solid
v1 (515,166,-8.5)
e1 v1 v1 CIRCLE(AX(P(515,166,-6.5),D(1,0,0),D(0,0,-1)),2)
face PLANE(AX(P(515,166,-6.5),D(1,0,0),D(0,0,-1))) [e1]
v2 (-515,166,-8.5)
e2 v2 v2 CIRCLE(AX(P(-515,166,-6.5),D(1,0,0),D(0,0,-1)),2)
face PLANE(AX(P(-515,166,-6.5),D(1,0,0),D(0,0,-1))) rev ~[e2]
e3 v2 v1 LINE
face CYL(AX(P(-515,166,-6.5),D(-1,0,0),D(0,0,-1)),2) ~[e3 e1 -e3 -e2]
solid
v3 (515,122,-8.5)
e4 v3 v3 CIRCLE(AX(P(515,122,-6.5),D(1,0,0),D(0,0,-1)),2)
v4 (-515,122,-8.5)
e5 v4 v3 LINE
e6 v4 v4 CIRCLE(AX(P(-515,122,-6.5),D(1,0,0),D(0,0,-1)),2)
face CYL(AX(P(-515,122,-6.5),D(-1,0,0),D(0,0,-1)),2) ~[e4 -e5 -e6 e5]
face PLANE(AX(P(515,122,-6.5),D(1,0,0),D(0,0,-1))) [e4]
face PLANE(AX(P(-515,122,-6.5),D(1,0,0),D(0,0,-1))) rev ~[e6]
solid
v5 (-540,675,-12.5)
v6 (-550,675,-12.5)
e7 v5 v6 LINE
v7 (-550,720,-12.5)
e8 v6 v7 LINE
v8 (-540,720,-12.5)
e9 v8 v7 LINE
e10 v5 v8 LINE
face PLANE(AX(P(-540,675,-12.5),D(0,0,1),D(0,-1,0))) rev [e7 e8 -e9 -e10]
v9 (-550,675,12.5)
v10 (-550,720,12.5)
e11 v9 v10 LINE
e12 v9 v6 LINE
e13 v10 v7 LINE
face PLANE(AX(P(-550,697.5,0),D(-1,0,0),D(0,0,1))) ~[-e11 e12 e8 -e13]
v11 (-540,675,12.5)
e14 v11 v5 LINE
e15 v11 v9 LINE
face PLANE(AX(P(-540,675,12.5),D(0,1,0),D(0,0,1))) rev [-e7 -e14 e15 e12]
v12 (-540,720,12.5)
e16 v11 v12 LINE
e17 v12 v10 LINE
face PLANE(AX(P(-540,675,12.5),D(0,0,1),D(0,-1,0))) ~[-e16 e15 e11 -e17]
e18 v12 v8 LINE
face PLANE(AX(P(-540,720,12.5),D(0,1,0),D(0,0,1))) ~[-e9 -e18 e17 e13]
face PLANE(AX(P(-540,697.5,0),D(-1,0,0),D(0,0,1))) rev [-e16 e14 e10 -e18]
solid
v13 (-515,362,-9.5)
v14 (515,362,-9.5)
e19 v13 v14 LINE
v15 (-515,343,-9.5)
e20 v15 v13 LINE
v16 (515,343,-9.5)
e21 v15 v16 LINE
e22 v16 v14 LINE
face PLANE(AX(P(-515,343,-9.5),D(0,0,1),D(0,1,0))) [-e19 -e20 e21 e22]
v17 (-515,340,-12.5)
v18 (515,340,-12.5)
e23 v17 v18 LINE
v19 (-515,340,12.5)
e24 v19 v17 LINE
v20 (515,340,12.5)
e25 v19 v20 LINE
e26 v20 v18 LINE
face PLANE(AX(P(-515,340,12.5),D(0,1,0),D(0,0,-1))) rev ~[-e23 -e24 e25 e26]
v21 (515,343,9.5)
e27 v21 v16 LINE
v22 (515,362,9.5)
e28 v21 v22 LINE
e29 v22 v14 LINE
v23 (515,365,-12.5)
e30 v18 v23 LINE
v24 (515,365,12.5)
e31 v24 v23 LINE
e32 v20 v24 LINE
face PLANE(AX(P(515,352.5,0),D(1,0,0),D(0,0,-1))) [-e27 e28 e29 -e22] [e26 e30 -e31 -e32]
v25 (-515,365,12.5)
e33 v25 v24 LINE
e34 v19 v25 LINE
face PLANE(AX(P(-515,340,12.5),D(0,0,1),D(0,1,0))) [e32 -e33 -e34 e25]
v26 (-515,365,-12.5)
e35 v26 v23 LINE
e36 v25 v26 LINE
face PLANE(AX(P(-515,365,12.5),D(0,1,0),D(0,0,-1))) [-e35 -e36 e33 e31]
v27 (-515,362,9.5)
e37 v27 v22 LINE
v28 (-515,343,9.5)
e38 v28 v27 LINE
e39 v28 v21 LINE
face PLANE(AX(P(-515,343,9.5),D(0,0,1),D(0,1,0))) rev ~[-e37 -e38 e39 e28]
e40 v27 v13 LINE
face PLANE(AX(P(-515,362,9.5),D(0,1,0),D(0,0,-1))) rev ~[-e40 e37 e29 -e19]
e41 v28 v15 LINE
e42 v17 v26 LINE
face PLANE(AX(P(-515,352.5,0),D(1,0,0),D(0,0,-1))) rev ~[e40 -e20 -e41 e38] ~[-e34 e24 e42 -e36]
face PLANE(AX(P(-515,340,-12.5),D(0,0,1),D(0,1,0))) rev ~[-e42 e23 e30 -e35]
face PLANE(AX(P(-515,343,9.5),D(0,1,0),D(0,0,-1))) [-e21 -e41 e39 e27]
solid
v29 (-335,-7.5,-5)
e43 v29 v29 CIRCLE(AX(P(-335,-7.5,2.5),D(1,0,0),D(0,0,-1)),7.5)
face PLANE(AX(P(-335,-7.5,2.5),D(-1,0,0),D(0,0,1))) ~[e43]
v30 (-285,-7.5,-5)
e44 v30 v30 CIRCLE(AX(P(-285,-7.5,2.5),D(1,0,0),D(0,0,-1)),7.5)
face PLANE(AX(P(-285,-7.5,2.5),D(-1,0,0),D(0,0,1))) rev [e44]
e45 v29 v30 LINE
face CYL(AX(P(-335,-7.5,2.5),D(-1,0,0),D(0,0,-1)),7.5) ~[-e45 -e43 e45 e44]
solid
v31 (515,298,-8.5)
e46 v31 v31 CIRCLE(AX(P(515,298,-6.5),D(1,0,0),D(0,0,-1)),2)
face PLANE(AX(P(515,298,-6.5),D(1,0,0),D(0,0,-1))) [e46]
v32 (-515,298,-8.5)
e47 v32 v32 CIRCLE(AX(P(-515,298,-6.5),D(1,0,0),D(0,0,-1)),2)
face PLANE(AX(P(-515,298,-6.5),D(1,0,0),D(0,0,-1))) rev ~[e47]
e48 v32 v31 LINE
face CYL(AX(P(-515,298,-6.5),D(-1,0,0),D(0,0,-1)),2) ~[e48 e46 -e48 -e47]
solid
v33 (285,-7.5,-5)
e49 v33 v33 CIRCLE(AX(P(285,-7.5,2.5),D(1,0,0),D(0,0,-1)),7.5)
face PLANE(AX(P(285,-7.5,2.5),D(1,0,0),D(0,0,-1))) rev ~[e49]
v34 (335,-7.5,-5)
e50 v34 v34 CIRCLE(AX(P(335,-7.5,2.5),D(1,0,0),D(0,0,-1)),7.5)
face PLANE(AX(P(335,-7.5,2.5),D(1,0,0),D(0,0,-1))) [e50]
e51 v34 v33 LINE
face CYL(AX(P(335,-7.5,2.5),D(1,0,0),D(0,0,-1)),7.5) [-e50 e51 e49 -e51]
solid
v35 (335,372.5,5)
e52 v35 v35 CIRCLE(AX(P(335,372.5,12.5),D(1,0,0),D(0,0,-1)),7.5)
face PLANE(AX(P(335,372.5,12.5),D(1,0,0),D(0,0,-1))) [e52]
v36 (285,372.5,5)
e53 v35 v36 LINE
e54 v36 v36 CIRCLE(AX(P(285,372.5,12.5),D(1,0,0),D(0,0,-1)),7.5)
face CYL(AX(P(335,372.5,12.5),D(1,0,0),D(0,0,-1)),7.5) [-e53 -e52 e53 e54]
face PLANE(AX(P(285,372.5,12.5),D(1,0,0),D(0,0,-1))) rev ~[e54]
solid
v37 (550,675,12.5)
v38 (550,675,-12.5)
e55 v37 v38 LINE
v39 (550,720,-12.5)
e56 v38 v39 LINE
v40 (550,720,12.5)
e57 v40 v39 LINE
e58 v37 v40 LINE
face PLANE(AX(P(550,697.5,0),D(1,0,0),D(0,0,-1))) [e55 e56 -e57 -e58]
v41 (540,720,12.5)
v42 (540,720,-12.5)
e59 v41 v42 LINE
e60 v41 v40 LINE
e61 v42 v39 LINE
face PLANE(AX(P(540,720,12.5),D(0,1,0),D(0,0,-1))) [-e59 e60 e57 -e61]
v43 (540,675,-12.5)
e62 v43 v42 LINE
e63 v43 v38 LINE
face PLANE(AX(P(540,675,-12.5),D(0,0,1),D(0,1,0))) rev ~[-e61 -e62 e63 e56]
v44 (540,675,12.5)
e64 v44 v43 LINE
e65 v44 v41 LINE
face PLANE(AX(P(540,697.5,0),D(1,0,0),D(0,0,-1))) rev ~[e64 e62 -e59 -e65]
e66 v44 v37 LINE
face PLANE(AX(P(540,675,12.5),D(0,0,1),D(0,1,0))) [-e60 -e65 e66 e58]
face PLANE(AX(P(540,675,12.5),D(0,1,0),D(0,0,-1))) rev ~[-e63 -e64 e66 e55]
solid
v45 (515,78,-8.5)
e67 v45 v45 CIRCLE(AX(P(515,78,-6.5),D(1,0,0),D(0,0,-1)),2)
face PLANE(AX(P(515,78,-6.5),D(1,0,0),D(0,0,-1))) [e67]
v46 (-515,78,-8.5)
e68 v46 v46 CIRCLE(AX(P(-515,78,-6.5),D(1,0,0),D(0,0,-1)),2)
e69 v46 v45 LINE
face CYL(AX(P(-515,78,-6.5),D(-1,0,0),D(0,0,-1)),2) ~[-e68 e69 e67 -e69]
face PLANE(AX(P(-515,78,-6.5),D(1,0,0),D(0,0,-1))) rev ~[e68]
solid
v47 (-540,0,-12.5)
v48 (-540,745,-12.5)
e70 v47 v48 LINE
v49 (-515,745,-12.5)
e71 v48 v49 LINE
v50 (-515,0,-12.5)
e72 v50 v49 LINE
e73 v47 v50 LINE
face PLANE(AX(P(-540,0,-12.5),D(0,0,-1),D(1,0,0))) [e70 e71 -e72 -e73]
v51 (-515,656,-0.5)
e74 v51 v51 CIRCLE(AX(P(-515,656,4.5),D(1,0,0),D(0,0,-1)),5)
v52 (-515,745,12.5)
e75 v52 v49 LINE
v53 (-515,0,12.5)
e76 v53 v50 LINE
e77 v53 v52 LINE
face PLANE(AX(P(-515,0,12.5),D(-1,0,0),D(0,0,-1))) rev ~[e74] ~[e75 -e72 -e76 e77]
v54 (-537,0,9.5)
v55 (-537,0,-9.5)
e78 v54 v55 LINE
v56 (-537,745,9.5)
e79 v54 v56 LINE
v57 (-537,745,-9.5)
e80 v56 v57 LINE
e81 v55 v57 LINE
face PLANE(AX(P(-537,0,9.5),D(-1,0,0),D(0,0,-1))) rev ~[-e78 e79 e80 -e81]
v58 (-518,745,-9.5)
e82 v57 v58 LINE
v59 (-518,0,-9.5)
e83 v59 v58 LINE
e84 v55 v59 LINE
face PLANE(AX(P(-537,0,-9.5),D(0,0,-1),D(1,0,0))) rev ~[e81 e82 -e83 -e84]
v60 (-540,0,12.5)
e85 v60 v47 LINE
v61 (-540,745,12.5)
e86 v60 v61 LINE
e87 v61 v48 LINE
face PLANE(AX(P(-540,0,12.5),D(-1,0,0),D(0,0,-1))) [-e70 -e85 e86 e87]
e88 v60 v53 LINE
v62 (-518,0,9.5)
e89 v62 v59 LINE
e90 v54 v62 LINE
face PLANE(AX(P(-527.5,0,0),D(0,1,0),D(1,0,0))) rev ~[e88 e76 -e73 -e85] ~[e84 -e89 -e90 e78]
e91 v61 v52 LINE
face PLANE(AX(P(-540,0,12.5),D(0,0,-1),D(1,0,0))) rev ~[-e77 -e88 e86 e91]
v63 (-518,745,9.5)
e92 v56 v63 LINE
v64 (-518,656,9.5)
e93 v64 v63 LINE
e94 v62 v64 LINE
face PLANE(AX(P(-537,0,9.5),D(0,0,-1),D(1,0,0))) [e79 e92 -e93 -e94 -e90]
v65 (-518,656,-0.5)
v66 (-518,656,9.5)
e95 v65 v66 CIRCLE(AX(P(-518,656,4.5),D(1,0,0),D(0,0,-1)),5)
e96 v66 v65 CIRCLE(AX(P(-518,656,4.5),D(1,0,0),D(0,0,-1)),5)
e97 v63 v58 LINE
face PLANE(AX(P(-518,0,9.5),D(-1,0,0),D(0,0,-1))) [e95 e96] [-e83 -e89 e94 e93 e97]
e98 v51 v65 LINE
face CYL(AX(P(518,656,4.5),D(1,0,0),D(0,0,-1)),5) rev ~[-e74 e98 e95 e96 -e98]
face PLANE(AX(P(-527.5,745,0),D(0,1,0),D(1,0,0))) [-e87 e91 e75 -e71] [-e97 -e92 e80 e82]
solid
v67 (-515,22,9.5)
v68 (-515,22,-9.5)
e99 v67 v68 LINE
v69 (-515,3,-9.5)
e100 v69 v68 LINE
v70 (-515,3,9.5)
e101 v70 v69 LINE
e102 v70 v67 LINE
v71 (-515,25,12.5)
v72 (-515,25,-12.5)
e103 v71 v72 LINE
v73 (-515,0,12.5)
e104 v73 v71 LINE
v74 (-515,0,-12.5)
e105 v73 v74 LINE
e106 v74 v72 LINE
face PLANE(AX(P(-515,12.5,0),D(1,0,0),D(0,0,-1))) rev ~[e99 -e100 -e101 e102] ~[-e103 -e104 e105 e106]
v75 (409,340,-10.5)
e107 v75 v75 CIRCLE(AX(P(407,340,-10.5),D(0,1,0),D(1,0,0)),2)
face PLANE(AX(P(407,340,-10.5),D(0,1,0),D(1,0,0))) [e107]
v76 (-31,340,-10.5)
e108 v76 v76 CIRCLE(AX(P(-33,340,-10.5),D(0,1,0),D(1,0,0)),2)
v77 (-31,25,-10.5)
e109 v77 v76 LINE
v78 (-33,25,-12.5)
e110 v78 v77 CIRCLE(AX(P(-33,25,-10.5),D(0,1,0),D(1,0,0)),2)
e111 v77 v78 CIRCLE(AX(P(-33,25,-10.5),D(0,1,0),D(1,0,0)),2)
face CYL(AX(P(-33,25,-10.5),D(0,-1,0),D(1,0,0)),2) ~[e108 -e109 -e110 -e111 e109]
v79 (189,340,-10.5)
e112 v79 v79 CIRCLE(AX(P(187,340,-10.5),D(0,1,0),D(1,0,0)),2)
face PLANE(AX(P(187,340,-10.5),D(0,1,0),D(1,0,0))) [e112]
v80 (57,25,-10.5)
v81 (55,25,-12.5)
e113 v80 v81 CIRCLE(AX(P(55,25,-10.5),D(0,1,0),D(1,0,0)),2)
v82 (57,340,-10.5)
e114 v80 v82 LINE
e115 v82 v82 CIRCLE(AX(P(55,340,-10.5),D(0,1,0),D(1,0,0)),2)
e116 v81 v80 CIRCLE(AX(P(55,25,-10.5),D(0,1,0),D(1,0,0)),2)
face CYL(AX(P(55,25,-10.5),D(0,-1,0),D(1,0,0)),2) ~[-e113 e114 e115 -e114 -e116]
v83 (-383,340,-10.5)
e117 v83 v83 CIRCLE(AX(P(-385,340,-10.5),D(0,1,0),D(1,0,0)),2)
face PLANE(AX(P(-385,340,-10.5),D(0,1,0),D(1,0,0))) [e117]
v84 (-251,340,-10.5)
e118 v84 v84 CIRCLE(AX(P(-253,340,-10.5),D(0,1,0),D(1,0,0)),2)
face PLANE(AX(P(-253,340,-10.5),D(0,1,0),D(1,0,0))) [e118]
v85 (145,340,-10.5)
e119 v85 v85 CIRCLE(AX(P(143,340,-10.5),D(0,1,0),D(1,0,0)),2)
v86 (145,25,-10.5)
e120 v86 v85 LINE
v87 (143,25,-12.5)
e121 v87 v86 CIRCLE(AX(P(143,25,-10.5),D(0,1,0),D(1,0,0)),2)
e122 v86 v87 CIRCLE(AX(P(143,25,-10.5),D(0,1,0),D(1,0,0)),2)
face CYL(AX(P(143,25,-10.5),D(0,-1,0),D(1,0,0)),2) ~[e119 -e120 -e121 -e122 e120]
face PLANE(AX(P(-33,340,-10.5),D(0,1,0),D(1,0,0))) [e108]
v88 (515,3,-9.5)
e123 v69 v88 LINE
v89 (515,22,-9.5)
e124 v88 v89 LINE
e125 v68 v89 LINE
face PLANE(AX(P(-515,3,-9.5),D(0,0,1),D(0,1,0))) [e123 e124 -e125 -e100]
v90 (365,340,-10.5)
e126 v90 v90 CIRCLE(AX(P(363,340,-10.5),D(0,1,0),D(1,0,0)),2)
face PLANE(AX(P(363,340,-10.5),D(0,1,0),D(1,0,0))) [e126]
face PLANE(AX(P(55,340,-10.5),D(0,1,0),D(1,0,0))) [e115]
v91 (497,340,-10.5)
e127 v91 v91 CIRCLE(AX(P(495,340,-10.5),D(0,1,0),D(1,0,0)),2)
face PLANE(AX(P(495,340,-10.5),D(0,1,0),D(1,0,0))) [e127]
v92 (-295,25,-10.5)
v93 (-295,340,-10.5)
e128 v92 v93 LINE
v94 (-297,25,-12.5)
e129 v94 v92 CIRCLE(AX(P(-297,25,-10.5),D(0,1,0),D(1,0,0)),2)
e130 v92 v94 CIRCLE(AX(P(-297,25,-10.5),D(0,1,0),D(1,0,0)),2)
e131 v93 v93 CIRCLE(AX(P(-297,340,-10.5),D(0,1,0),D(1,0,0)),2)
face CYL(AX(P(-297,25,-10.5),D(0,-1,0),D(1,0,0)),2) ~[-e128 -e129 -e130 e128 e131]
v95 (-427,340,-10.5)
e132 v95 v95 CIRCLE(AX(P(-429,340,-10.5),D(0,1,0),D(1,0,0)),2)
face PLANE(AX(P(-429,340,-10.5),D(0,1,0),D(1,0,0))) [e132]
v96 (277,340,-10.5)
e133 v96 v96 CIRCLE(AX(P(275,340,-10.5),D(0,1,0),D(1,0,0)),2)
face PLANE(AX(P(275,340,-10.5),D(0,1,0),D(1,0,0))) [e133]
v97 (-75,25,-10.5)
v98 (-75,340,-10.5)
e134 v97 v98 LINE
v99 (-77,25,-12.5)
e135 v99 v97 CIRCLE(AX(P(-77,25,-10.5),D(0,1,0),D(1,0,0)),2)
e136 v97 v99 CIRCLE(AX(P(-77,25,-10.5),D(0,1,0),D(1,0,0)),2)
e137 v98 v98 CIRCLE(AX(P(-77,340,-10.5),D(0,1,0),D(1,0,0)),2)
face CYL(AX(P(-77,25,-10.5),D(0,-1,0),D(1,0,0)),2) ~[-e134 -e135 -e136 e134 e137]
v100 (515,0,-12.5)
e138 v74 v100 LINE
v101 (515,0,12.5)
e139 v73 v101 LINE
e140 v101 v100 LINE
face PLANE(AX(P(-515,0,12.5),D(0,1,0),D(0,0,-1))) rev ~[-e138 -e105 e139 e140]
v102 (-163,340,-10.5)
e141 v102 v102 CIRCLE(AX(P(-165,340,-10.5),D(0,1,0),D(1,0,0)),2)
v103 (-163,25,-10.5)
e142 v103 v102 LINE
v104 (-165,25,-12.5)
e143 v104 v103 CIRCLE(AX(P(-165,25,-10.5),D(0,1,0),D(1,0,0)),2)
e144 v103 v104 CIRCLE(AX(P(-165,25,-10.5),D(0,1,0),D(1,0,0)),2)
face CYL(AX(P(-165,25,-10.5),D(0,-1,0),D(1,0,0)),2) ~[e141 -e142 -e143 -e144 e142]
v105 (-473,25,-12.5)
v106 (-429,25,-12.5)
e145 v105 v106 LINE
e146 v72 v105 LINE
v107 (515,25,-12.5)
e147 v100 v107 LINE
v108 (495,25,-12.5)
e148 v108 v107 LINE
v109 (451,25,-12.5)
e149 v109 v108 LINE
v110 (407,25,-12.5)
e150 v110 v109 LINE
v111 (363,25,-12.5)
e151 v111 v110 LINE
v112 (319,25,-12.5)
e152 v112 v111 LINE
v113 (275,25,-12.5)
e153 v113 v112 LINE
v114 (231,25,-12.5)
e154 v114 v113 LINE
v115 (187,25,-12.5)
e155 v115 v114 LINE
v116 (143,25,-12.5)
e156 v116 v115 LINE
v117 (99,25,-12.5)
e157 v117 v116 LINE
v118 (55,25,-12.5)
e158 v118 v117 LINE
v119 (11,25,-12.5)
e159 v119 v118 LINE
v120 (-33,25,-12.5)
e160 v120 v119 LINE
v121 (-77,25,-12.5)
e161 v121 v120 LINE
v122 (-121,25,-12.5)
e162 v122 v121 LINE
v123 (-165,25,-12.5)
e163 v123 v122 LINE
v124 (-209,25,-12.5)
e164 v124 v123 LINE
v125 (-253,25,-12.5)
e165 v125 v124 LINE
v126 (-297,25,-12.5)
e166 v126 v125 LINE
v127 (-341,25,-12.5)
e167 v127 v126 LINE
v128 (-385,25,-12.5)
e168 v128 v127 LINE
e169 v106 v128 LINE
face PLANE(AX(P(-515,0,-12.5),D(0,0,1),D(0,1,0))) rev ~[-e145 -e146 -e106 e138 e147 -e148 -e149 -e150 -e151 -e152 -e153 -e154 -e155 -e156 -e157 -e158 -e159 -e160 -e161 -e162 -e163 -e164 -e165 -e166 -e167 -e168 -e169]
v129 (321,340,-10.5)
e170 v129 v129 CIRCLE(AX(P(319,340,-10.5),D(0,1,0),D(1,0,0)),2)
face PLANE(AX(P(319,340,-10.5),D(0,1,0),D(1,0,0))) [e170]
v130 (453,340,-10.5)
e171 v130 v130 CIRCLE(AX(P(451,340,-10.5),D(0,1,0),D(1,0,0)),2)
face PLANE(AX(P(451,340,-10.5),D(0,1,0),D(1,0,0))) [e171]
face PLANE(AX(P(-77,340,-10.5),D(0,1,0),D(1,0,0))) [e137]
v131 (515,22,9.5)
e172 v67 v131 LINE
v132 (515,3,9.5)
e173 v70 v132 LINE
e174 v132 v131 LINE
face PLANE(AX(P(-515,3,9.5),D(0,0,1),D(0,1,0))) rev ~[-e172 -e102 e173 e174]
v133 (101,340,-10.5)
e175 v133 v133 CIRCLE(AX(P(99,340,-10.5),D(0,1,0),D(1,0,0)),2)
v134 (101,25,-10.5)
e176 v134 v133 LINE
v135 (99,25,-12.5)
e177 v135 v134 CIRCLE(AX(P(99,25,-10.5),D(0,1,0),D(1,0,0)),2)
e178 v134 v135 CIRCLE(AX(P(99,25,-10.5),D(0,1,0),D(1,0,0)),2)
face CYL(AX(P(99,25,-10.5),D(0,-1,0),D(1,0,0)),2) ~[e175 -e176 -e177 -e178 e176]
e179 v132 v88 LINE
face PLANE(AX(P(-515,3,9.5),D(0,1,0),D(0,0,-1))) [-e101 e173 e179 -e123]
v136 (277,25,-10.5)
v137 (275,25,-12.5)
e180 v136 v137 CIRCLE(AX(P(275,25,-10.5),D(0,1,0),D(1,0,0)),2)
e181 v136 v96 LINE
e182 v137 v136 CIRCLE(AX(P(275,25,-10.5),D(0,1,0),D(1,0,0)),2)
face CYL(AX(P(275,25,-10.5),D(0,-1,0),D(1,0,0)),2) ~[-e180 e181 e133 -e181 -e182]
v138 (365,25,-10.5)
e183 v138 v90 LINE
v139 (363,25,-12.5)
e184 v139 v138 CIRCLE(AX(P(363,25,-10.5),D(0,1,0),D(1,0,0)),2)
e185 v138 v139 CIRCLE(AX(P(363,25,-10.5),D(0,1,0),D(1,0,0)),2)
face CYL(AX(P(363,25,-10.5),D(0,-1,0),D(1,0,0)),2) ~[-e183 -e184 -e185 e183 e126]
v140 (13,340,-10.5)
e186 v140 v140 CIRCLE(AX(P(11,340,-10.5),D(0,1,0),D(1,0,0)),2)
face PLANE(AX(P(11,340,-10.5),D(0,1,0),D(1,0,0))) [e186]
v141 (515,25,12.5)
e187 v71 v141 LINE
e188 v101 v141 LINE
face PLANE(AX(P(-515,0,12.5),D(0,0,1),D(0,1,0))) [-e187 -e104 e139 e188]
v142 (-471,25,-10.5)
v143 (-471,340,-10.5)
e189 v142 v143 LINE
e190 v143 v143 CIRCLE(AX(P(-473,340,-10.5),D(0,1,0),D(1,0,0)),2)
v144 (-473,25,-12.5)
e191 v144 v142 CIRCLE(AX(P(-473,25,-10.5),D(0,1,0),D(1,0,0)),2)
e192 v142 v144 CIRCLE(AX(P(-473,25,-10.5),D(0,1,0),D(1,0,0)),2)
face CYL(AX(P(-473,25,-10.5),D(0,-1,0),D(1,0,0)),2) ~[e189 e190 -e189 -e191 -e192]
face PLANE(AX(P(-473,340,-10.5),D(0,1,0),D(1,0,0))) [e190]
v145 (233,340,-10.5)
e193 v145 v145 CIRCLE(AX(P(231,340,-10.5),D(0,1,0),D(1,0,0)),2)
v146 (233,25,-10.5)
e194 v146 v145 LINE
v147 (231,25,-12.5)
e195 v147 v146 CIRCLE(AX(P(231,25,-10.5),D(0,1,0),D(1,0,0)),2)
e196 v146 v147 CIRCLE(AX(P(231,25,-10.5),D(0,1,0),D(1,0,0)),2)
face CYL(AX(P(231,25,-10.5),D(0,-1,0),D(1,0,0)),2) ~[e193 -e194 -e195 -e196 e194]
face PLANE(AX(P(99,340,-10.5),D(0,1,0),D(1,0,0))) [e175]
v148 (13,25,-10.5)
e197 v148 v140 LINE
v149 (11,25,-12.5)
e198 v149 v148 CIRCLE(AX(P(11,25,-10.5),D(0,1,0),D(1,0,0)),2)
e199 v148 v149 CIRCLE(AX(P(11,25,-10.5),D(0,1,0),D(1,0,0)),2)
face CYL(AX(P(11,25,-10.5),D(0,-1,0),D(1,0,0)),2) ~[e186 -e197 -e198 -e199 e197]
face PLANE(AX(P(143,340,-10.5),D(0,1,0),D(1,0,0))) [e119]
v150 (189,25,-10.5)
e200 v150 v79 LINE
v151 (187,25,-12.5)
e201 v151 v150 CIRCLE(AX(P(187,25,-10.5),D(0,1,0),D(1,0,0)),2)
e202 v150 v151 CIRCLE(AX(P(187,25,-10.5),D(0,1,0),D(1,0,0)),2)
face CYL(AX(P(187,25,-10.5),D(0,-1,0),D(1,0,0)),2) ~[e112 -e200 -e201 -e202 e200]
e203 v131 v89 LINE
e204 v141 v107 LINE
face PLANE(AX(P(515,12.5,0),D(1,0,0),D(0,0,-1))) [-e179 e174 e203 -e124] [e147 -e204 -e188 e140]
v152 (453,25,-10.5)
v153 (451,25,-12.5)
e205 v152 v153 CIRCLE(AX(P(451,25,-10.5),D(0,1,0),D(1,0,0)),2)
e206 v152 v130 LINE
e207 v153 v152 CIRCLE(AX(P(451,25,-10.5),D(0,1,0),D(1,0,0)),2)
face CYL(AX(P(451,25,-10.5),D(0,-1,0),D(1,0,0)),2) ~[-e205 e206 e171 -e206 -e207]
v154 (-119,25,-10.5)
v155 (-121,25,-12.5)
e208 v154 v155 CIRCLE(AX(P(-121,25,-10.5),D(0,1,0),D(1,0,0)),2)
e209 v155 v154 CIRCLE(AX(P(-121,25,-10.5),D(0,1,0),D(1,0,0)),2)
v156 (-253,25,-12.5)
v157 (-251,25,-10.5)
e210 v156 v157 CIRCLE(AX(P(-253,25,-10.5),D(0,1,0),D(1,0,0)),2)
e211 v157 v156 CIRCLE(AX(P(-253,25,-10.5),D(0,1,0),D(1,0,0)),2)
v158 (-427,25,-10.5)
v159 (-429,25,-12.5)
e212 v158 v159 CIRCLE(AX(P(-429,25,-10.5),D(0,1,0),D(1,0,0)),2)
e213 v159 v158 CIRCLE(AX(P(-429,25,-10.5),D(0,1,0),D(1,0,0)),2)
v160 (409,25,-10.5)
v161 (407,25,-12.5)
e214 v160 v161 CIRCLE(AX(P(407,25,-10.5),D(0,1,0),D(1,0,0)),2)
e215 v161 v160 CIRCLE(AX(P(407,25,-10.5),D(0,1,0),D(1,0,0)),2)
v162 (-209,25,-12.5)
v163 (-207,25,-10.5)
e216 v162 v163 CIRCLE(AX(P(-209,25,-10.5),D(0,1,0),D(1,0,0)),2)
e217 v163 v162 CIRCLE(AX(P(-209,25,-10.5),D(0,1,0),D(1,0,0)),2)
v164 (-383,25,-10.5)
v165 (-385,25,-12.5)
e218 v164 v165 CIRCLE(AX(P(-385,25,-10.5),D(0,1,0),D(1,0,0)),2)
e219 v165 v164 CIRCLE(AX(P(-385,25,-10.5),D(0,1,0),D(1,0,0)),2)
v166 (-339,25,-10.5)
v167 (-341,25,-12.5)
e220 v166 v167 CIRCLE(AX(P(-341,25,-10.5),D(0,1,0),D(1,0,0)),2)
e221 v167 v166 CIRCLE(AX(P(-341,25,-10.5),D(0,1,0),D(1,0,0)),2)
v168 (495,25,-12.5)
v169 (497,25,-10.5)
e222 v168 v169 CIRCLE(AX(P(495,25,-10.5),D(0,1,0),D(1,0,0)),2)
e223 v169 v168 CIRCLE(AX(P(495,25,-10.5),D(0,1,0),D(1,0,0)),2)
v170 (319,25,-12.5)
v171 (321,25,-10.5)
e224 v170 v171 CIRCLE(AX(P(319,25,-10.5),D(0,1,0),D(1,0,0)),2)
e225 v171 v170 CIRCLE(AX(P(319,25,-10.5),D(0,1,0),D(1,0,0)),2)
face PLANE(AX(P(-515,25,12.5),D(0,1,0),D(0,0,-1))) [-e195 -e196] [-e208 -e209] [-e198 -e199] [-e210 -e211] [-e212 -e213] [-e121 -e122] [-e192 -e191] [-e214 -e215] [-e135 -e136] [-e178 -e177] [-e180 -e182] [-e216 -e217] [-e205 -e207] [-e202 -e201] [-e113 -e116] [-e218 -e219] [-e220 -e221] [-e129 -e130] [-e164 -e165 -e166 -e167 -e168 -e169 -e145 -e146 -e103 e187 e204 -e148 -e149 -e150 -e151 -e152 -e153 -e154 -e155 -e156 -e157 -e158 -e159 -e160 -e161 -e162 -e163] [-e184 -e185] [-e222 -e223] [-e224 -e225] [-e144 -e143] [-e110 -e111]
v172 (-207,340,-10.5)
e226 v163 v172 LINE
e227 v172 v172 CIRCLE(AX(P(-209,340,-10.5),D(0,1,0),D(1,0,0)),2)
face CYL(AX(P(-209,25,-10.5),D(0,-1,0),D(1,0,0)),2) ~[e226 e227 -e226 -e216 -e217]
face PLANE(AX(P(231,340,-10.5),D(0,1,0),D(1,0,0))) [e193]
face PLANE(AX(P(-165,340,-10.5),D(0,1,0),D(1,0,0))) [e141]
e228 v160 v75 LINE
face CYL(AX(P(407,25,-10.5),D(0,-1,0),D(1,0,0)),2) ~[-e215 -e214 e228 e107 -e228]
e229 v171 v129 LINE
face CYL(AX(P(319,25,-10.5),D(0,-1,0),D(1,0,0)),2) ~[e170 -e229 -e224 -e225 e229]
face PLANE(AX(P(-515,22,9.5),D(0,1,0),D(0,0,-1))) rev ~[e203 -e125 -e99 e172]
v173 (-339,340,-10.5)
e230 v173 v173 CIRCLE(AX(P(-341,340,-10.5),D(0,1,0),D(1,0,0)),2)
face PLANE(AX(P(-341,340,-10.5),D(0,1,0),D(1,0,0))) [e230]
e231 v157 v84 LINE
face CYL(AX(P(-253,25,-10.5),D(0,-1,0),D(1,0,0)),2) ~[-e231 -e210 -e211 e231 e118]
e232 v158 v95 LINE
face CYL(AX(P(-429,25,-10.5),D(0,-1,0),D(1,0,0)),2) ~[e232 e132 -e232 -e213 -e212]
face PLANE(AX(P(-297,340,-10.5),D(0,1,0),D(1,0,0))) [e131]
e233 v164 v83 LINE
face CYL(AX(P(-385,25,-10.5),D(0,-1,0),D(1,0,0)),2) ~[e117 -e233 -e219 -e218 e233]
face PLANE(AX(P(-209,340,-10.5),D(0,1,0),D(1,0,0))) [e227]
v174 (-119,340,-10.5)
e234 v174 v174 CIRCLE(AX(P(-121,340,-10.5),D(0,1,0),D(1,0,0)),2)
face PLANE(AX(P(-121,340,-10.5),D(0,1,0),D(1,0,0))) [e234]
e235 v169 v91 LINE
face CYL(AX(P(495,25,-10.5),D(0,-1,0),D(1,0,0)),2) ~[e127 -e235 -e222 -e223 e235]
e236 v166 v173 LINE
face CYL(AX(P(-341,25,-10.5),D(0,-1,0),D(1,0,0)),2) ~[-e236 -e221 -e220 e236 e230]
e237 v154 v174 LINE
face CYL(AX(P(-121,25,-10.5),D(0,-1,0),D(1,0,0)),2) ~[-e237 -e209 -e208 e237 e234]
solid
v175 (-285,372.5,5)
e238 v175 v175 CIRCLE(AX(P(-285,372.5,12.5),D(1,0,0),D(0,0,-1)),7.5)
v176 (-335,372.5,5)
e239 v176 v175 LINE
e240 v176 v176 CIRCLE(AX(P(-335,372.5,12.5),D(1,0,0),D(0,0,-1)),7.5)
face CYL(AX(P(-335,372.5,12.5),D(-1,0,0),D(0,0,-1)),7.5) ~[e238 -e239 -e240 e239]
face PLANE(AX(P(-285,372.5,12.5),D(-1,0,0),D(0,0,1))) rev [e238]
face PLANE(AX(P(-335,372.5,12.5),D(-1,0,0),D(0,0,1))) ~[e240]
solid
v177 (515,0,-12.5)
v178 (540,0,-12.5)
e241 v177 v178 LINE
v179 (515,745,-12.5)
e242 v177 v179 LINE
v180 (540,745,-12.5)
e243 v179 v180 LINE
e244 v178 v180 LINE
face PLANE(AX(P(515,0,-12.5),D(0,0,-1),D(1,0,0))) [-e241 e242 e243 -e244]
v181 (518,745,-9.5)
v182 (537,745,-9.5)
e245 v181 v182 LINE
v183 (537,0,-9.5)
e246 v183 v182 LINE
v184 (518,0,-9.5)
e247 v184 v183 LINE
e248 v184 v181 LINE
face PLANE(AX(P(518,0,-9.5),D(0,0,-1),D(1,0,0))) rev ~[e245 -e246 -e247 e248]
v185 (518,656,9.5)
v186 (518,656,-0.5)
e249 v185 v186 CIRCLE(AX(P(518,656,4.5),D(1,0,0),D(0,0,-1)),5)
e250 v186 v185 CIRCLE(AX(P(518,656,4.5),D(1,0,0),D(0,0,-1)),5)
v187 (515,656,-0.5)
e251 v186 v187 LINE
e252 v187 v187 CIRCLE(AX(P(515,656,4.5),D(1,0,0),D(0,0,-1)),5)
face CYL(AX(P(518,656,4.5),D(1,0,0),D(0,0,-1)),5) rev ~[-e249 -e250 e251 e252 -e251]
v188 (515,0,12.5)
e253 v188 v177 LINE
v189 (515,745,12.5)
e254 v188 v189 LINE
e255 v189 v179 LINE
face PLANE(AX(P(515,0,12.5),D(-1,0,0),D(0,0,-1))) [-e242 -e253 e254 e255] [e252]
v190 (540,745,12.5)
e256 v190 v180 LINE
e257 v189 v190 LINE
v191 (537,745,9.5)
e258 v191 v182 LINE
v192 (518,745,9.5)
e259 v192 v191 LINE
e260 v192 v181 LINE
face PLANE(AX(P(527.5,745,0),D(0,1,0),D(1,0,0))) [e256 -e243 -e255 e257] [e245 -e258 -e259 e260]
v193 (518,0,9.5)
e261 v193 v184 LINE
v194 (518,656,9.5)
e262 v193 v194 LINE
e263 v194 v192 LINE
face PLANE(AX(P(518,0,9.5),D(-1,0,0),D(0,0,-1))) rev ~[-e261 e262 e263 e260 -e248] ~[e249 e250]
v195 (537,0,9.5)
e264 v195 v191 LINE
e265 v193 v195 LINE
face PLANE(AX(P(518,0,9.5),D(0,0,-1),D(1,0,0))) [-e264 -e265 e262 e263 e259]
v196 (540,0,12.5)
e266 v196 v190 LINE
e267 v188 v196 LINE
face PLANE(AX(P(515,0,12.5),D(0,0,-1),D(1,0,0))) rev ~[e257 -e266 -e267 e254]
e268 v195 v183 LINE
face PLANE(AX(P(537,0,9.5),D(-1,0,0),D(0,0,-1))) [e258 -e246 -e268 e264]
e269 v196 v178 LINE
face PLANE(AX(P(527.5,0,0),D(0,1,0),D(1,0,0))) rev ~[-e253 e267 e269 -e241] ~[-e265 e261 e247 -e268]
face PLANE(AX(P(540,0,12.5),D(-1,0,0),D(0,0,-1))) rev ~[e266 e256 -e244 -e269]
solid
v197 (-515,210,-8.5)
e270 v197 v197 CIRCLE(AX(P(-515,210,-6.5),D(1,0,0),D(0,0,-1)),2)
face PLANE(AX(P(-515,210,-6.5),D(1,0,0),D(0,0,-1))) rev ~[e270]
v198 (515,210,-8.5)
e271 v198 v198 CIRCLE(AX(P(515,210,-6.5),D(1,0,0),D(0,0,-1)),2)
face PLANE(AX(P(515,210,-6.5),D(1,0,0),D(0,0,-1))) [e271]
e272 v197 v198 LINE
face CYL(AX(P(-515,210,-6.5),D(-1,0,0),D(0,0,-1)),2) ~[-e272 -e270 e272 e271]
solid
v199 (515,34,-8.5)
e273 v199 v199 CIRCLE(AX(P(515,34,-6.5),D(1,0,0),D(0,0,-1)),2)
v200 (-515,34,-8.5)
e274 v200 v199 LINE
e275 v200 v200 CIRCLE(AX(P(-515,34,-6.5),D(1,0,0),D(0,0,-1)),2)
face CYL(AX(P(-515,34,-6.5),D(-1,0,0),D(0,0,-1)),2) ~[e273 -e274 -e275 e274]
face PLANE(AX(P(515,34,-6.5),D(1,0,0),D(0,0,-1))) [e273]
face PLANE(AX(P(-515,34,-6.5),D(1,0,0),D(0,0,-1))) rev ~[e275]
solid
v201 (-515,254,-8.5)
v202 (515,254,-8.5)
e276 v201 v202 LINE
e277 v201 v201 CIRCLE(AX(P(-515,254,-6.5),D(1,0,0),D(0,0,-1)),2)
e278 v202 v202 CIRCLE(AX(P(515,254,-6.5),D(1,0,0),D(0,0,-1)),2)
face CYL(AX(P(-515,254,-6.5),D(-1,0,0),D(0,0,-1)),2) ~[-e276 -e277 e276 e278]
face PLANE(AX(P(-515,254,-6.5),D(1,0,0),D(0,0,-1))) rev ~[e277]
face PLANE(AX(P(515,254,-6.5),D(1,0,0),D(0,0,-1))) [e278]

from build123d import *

# Parameters (mm, degrees)
SCHIZZO1_W                     = 25
SCHIZZO1_H                     = 25
SCHIZZO1_W_2                   = 19
SCHIZZO1_H_2                   = 19
ESTRUSIONE_ESTRUSIONE1_DEPTH   = 745
ESTRUSIONE_ESTRUSIONE1_2_DEPTH = 745
SCHIZZO2_W                     = 25
SCHIZZO2_H                     = 25
SCHIZZO2_W_2                   = 19
SCHIZZO2_H_2                   = 19
ESTRUSIONE_ESTRUSIONE2_DEPTH   = 1030
ESTRUSIONE_ESTRUSIONE2_2_DEPTH = 1030
SCHIZZO4_R                     = 7.5
ESTRUSIONE_ESTRUSIONE3_DEPTH   = 50
ESTRUSIONE_ESTRUSIONE3_2_DEPTH = 50
SCHIZZO5_W                     = 25
SCHIZZO5_H                     = 45
ESTRUSIONE_ESTRUSIONE4_DEPTH   = 10
SCHIZZO6_R                     = 2
ESTRUSIONE_ESTRUSIONE5_DEPTH   = 315
SCHIZZO7_R                     = 2
ESTRUSIONE_ESTRUSIONE7_DEPTH   = 1030
ESTRUSIONE_ESTRUSIONE7_2_DEPTH = 1030
ESTRUSIONE_ESTRUSIONE7_3_DEPTH = 1030
ESTRUSIONE_ESTRUSIONE7_4_DEPTH = 1030
ESTRUSIONE_ESTRUSIONE7_5_DEPTH = 1030
ESTRUSIONE_ESTRUSIONE7_6_DEPTH = 1030
ESTRUSIONE_ESTRUSIONE7_7_DEPTH = 1030
TAGLIO_ESTRUSIONE1_START       = -22
SCHIZZO8_R                     = 5
TAGLIO_ESTRUSIONE1_DEPTH       = 1036


with BuildPart() as part:
    # Schizzo1 → Estrusione-Estrusione1 (new body)
    with BuildSketch(Plane(origin=(0, 0, 0), x_dir=(1, 0, 0), z_dir=(0, 1, 0))):
        with Locations((-527.5, 0)):
            Rectangle(SCHIZZO1_W, SCHIZZO1_H)
        with Locations((-527.5, 0)):
            Rectangle(SCHIZZO1_W_2, SCHIZZO1_H_2, mode=Mode.SUBTRACT)
    extrude(amount=ESTRUSIONE_ESTRUSIONE1_DEPTH)


with BuildPart() as body_2:
    # Schizzo1 → Estrusione-Estrusione1 2 (new body)
    with BuildSketch(Plane(origin=(0, 0, 0), x_dir=(1, 0, 0), z_dir=(0, 1, 0))):
        with Locations((527.5, 0)):
            Rectangle(SCHIZZO1_W, SCHIZZO1_H)
        with Locations((527.5, 0)):
            Rectangle(SCHIZZO1_W_2, SCHIZZO1_H_2, mode=Mode.SUBTRACT)
    extrude(amount=ESTRUSIONE_ESTRUSIONE1_2_DEPTH)


with BuildPart() as body_3:
    # Schizzo2 → Estrusione-Estrusione2 (new body)
    with BuildSketch(Plane(origin=(-515, 0, 0), x_dir=(0, 0, -1), z_dir=(1, 0, 0))):
        with Locations((0, 12.5)):
            Rectangle(SCHIZZO2_W, SCHIZZO2_H)
        with Locations((0, 12.5)):
            Rectangle(SCHIZZO2_W_2, SCHIZZO2_H_2, mode=Mode.SUBTRACT)
    extrude(amount=ESTRUSIONE_ESTRUSIONE2_DEPTH)

    # Schizzo6 → Estrusione-Estrusione5 (add)
    with BuildSketch(Plane(origin=(0, 25, 0), x_dir=(1, 0, 0), z_dir=(0, 1, 0))):
        with Locations((-473, 10.5)):
            Circle(SCHIZZO6_R)
        with Locations((-429, 10.5)):
            Circle(SCHIZZO6_R)
        with Locations((-385, 10.5)):
            Circle(SCHIZZO6_R)
        with Locations((-341, 10.5)):
            Circle(SCHIZZO6_R)
        with Locations((-297, 10.5)):
            Circle(SCHIZZO6_R)
        with Locations((-253, 10.5)):
            Circle(SCHIZZO6_R)
        with Locations((-209, 10.5)):
            Circle(SCHIZZO6_R)
        with Locations((-165, 10.5)):
            Circle(SCHIZZO6_R)
        with Locations((-121, 10.5)):
            Circle(SCHIZZO6_R)
        with Locations((-77, 10.5)):
            Circle(SCHIZZO6_R)
        with Locations((-33, 10.5)):
            Circle(SCHIZZO6_R)
        with Locations((11, 10.5)):
            Circle(SCHIZZO6_R)
        with Locations((55, 10.5)):
            Circle(SCHIZZO6_R)
        with Locations((99, 10.5)):
            Circle(SCHIZZO6_R)
        with Locations((143, 10.5)):
            Circle(SCHIZZO6_R)
        with Locations((187, 10.5)):
            Circle(SCHIZZO6_R)
        with Locations((231, 10.5)):
            Circle(SCHIZZO6_R)
        with Locations((275, 10.5)):
            Circle(SCHIZZO6_R)
        with Locations((319, 10.5)):
            Circle(SCHIZZO6_R)
        with Locations((363, 10.5)):
            Circle(SCHIZZO6_R)
        with Locations((407, 10.5)):
            Circle(SCHIZZO6_R)
        with Locations((451, 10.5)):
            Circle(SCHIZZO6_R)
        with Locations((495, 10.5)):
            Circle(SCHIZZO6_R)
    extrude(amount=ESTRUSIONE_ESTRUSIONE5_DEPTH)


with BuildPart() as body_4:
    # Schizzo2 → Estrusione-Estrusione2 2 (new body)
    with BuildSketch(Plane(origin=(-515, 0, 0), x_dir=(0, 0, -1), z_dir=(1, 0, 0))):
        with Locations((0, 352.5)):
            Rectangle(SCHIZZO2_W, SCHIZZO2_H)
        with Locations((0, 352.5)):
            Rectangle(SCHIZZO2_W_2, SCHIZZO2_H_2, mode=Mode.SUBTRACT)
    extrude(amount=ESTRUSIONE_ESTRUSIONE2_2_DEPTH)


with BuildPart() as body_5:
    # Schizzo4 → Estrusione-Estrusione3 (new body)
    with BuildSketch(Plane(origin=(335, 0, 0), x_dir=(0, 0, -1), z_dir=(1, 0, 0))):
        with Locations((-2.5, -7.5)):
            Circle(SCHIZZO4_R)
    extrude(amount=-ESTRUSIONE_ESTRUSIONE3_DEPTH)


with BuildPart() as body_6:
    # Schizzo4 → Estrusione-Estrusione3 2 (new body)
    with BuildSketch(Plane(origin=(335, 0, 0), x_dir=(0, 0, -1), z_dir=(1, 0, 0))):
        with Locations((-12.5, 372.5)):
            Circle(SCHIZZO4_R)
    extrude(amount=-ESTRUSIONE_ESTRUSIONE3_2_DEPTH)


with BuildPart() as body_7:
    # Specchia1: mirrored copy
    add(body_5.part.mirror(Plane(origin=(0, 0, 0), x_dir=(0, 0, 1), z_dir=(1, 0, 0))))


with BuildPart() as body_8:
    # Specchia1 2: mirrored copy
    add(body_6.part.mirror(Plane(origin=(0, 0, 0), x_dir=(0, 0, 1), z_dir=(1, 0, 0))))


with BuildPart() as body_9:
    # Schizzo5 → Estrusione-Estrusione4 (new body)
    with BuildSketch(Plane(origin=(540, 0, 0), x_dir=(0, 0, -1), z_dir=(1, 0, 0))):
        with Locations((0, 697.5)):
            Rectangle(SCHIZZO5_W, SCHIZZO5_H)
    extrude(amount=ESTRUSIONE_ESTRUSIONE4_DEPTH)


with BuildPart() as body_10:
    # Specchia2: mirrored copy
    add(body_9.part.mirror(Plane(origin=(0, 0, 0), x_dir=(0, 0, 1), z_dir=(1, 0, 0))))


with BuildPart() as body_11:
    # Schizzo7 → Estrusione-Estrusione7 (new body)
    with BuildSketch(Plane(origin=(-515, 0, 0), x_dir=(0, 0, -1), z_dir=(1, 0, 0))):
        with Locations((6.5, 298)):
            Circle(SCHIZZO7_R)
    extrude(amount=ESTRUSIONE_ESTRUSIONE7_DEPTH)


with BuildPart() as body_12:
    # Schizzo7 → Estrusione-Estrusione7 2 (new body)
    with BuildSketch(Plane(origin=(-515, 0, 0), x_dir=(0, 0, -1), z_dir=(1, 0, 0))):
        with Locations((6.5, 254)):
            Circle(SCHIZZO7_R)
    extrude(amount=ESTRUSIONE_ESTRUSIONE7_2_DEPTH)


with BuildPart() as body_13:
    # Schizzo7 → Estrusione-Estrusione7 3 (new body)
    with BuildSketch(Plane(origin=(-515, 0, 0), x_dir=(0, 0, -1), z_dir=(1, 0, 0))):
        with Locations((6.5, 210)):
            Circle(SCHIZZO7_R)
    extrude(amount=ESTRUSIONE_ESTRUSIONE7_3_DEPTH)


with BuildPart() as body_14:
    # Schizzo7 → Estrusione-Estrusione7 4 (new body)
    with BuildSketch(Plane(origin=(-515, 0, 0), x_dir=(0, 0, -1), z_dir=(1, 0, 0))):
        with Locations((6.5, 166)):
            Circle(SCHIZZO7_R)
    extrude(amount=ESTRUSIONE_ESTRUSIONE7_4_DEPTH)


with BuildPart() as body_15:
    # Schizzo7 → Estrusione-Estrusione7 5 (new body)
    with BuildSketch(Plane(origin=(-515, 0, 0), x_dir=(0, 0, -1), z_dir=(1, 0, 0))):
        with Locations((6.5, 122)):
            Circle(SCHIZZO7_R)
    extrude(amount=ESTRUSIONE_ESTRUSIONE7_5_DEPTH)


with BuildPart() as body_16:
    # Schizzo7 → Estrusione-Estrusione7 6 (new body)
    with BuildSketch(Plane(origin=(-515, 0, 0), x_dir=(0, 0, -1), z_dir=(1, 0, 0))):
        with Locations((6.5, 78)):
            Circle(SCHIZZO7_R)
    extrude(amount=ESTRUSIONE_ESTRUSIONE7_6_DEPTH)


with BuildPart() as body_17:
    # Schizzo7 → Estrusione-Estrusione7 7 (new body)
    with BuildSketch(Plane(origin=(-515, 0, 0), x_dir=(0, 0, -1), z_dir=(1, 0, 0))):
        with Locations((6.5, 34)):
            Circle(SCHIZZO7_R)
    extrude(amount=ESTRUSIONE_ESTRUSIONE7_7_DEPTH)


with BuildPart() as taglio_estrusione1_tool:
    # Schizzo8 → Taglio-Estrusione1 (new body)
    with BuildSketch(Plane(origin=(540, 0, 0), x_dir=(0, 0, -1), z_dir=(1, 0, 0)).offset(TAGLIO_ESTRUSIONE1_START)):
        with Locations((-4.5, 656)):
            Circle(SCHIZZO8_R)
    extrude(amount=-TAGLIO_ESTRUSIONE1_DEPTH)


with BuildPart() as part_1:
    add(part.part)

    # Taglio-Estrusione1: cut by taglio_estrusione1_tool
    add(taglio_estrusione1_tool.part, mode=Mode.SUBTRACT)


with BuildPart() as body_2_1:
    add(body_2.part)

    # Taglio-Estrusione1: cut by taglio_estrusione1_tool
    add(taglio_estrusione1_tool.part, mode=Mode.SUBTRACT)


solid = Compound([body_3.part, body_4.part, body_5.part, body_6.part, body_7.part, body_8.part, body_9.part, body_10.part, body_11.part, body_12.part, body_13.part, body_14.part, body_15.part, body_16.part, body_17.part, part_1.part, body_2_1.part])
